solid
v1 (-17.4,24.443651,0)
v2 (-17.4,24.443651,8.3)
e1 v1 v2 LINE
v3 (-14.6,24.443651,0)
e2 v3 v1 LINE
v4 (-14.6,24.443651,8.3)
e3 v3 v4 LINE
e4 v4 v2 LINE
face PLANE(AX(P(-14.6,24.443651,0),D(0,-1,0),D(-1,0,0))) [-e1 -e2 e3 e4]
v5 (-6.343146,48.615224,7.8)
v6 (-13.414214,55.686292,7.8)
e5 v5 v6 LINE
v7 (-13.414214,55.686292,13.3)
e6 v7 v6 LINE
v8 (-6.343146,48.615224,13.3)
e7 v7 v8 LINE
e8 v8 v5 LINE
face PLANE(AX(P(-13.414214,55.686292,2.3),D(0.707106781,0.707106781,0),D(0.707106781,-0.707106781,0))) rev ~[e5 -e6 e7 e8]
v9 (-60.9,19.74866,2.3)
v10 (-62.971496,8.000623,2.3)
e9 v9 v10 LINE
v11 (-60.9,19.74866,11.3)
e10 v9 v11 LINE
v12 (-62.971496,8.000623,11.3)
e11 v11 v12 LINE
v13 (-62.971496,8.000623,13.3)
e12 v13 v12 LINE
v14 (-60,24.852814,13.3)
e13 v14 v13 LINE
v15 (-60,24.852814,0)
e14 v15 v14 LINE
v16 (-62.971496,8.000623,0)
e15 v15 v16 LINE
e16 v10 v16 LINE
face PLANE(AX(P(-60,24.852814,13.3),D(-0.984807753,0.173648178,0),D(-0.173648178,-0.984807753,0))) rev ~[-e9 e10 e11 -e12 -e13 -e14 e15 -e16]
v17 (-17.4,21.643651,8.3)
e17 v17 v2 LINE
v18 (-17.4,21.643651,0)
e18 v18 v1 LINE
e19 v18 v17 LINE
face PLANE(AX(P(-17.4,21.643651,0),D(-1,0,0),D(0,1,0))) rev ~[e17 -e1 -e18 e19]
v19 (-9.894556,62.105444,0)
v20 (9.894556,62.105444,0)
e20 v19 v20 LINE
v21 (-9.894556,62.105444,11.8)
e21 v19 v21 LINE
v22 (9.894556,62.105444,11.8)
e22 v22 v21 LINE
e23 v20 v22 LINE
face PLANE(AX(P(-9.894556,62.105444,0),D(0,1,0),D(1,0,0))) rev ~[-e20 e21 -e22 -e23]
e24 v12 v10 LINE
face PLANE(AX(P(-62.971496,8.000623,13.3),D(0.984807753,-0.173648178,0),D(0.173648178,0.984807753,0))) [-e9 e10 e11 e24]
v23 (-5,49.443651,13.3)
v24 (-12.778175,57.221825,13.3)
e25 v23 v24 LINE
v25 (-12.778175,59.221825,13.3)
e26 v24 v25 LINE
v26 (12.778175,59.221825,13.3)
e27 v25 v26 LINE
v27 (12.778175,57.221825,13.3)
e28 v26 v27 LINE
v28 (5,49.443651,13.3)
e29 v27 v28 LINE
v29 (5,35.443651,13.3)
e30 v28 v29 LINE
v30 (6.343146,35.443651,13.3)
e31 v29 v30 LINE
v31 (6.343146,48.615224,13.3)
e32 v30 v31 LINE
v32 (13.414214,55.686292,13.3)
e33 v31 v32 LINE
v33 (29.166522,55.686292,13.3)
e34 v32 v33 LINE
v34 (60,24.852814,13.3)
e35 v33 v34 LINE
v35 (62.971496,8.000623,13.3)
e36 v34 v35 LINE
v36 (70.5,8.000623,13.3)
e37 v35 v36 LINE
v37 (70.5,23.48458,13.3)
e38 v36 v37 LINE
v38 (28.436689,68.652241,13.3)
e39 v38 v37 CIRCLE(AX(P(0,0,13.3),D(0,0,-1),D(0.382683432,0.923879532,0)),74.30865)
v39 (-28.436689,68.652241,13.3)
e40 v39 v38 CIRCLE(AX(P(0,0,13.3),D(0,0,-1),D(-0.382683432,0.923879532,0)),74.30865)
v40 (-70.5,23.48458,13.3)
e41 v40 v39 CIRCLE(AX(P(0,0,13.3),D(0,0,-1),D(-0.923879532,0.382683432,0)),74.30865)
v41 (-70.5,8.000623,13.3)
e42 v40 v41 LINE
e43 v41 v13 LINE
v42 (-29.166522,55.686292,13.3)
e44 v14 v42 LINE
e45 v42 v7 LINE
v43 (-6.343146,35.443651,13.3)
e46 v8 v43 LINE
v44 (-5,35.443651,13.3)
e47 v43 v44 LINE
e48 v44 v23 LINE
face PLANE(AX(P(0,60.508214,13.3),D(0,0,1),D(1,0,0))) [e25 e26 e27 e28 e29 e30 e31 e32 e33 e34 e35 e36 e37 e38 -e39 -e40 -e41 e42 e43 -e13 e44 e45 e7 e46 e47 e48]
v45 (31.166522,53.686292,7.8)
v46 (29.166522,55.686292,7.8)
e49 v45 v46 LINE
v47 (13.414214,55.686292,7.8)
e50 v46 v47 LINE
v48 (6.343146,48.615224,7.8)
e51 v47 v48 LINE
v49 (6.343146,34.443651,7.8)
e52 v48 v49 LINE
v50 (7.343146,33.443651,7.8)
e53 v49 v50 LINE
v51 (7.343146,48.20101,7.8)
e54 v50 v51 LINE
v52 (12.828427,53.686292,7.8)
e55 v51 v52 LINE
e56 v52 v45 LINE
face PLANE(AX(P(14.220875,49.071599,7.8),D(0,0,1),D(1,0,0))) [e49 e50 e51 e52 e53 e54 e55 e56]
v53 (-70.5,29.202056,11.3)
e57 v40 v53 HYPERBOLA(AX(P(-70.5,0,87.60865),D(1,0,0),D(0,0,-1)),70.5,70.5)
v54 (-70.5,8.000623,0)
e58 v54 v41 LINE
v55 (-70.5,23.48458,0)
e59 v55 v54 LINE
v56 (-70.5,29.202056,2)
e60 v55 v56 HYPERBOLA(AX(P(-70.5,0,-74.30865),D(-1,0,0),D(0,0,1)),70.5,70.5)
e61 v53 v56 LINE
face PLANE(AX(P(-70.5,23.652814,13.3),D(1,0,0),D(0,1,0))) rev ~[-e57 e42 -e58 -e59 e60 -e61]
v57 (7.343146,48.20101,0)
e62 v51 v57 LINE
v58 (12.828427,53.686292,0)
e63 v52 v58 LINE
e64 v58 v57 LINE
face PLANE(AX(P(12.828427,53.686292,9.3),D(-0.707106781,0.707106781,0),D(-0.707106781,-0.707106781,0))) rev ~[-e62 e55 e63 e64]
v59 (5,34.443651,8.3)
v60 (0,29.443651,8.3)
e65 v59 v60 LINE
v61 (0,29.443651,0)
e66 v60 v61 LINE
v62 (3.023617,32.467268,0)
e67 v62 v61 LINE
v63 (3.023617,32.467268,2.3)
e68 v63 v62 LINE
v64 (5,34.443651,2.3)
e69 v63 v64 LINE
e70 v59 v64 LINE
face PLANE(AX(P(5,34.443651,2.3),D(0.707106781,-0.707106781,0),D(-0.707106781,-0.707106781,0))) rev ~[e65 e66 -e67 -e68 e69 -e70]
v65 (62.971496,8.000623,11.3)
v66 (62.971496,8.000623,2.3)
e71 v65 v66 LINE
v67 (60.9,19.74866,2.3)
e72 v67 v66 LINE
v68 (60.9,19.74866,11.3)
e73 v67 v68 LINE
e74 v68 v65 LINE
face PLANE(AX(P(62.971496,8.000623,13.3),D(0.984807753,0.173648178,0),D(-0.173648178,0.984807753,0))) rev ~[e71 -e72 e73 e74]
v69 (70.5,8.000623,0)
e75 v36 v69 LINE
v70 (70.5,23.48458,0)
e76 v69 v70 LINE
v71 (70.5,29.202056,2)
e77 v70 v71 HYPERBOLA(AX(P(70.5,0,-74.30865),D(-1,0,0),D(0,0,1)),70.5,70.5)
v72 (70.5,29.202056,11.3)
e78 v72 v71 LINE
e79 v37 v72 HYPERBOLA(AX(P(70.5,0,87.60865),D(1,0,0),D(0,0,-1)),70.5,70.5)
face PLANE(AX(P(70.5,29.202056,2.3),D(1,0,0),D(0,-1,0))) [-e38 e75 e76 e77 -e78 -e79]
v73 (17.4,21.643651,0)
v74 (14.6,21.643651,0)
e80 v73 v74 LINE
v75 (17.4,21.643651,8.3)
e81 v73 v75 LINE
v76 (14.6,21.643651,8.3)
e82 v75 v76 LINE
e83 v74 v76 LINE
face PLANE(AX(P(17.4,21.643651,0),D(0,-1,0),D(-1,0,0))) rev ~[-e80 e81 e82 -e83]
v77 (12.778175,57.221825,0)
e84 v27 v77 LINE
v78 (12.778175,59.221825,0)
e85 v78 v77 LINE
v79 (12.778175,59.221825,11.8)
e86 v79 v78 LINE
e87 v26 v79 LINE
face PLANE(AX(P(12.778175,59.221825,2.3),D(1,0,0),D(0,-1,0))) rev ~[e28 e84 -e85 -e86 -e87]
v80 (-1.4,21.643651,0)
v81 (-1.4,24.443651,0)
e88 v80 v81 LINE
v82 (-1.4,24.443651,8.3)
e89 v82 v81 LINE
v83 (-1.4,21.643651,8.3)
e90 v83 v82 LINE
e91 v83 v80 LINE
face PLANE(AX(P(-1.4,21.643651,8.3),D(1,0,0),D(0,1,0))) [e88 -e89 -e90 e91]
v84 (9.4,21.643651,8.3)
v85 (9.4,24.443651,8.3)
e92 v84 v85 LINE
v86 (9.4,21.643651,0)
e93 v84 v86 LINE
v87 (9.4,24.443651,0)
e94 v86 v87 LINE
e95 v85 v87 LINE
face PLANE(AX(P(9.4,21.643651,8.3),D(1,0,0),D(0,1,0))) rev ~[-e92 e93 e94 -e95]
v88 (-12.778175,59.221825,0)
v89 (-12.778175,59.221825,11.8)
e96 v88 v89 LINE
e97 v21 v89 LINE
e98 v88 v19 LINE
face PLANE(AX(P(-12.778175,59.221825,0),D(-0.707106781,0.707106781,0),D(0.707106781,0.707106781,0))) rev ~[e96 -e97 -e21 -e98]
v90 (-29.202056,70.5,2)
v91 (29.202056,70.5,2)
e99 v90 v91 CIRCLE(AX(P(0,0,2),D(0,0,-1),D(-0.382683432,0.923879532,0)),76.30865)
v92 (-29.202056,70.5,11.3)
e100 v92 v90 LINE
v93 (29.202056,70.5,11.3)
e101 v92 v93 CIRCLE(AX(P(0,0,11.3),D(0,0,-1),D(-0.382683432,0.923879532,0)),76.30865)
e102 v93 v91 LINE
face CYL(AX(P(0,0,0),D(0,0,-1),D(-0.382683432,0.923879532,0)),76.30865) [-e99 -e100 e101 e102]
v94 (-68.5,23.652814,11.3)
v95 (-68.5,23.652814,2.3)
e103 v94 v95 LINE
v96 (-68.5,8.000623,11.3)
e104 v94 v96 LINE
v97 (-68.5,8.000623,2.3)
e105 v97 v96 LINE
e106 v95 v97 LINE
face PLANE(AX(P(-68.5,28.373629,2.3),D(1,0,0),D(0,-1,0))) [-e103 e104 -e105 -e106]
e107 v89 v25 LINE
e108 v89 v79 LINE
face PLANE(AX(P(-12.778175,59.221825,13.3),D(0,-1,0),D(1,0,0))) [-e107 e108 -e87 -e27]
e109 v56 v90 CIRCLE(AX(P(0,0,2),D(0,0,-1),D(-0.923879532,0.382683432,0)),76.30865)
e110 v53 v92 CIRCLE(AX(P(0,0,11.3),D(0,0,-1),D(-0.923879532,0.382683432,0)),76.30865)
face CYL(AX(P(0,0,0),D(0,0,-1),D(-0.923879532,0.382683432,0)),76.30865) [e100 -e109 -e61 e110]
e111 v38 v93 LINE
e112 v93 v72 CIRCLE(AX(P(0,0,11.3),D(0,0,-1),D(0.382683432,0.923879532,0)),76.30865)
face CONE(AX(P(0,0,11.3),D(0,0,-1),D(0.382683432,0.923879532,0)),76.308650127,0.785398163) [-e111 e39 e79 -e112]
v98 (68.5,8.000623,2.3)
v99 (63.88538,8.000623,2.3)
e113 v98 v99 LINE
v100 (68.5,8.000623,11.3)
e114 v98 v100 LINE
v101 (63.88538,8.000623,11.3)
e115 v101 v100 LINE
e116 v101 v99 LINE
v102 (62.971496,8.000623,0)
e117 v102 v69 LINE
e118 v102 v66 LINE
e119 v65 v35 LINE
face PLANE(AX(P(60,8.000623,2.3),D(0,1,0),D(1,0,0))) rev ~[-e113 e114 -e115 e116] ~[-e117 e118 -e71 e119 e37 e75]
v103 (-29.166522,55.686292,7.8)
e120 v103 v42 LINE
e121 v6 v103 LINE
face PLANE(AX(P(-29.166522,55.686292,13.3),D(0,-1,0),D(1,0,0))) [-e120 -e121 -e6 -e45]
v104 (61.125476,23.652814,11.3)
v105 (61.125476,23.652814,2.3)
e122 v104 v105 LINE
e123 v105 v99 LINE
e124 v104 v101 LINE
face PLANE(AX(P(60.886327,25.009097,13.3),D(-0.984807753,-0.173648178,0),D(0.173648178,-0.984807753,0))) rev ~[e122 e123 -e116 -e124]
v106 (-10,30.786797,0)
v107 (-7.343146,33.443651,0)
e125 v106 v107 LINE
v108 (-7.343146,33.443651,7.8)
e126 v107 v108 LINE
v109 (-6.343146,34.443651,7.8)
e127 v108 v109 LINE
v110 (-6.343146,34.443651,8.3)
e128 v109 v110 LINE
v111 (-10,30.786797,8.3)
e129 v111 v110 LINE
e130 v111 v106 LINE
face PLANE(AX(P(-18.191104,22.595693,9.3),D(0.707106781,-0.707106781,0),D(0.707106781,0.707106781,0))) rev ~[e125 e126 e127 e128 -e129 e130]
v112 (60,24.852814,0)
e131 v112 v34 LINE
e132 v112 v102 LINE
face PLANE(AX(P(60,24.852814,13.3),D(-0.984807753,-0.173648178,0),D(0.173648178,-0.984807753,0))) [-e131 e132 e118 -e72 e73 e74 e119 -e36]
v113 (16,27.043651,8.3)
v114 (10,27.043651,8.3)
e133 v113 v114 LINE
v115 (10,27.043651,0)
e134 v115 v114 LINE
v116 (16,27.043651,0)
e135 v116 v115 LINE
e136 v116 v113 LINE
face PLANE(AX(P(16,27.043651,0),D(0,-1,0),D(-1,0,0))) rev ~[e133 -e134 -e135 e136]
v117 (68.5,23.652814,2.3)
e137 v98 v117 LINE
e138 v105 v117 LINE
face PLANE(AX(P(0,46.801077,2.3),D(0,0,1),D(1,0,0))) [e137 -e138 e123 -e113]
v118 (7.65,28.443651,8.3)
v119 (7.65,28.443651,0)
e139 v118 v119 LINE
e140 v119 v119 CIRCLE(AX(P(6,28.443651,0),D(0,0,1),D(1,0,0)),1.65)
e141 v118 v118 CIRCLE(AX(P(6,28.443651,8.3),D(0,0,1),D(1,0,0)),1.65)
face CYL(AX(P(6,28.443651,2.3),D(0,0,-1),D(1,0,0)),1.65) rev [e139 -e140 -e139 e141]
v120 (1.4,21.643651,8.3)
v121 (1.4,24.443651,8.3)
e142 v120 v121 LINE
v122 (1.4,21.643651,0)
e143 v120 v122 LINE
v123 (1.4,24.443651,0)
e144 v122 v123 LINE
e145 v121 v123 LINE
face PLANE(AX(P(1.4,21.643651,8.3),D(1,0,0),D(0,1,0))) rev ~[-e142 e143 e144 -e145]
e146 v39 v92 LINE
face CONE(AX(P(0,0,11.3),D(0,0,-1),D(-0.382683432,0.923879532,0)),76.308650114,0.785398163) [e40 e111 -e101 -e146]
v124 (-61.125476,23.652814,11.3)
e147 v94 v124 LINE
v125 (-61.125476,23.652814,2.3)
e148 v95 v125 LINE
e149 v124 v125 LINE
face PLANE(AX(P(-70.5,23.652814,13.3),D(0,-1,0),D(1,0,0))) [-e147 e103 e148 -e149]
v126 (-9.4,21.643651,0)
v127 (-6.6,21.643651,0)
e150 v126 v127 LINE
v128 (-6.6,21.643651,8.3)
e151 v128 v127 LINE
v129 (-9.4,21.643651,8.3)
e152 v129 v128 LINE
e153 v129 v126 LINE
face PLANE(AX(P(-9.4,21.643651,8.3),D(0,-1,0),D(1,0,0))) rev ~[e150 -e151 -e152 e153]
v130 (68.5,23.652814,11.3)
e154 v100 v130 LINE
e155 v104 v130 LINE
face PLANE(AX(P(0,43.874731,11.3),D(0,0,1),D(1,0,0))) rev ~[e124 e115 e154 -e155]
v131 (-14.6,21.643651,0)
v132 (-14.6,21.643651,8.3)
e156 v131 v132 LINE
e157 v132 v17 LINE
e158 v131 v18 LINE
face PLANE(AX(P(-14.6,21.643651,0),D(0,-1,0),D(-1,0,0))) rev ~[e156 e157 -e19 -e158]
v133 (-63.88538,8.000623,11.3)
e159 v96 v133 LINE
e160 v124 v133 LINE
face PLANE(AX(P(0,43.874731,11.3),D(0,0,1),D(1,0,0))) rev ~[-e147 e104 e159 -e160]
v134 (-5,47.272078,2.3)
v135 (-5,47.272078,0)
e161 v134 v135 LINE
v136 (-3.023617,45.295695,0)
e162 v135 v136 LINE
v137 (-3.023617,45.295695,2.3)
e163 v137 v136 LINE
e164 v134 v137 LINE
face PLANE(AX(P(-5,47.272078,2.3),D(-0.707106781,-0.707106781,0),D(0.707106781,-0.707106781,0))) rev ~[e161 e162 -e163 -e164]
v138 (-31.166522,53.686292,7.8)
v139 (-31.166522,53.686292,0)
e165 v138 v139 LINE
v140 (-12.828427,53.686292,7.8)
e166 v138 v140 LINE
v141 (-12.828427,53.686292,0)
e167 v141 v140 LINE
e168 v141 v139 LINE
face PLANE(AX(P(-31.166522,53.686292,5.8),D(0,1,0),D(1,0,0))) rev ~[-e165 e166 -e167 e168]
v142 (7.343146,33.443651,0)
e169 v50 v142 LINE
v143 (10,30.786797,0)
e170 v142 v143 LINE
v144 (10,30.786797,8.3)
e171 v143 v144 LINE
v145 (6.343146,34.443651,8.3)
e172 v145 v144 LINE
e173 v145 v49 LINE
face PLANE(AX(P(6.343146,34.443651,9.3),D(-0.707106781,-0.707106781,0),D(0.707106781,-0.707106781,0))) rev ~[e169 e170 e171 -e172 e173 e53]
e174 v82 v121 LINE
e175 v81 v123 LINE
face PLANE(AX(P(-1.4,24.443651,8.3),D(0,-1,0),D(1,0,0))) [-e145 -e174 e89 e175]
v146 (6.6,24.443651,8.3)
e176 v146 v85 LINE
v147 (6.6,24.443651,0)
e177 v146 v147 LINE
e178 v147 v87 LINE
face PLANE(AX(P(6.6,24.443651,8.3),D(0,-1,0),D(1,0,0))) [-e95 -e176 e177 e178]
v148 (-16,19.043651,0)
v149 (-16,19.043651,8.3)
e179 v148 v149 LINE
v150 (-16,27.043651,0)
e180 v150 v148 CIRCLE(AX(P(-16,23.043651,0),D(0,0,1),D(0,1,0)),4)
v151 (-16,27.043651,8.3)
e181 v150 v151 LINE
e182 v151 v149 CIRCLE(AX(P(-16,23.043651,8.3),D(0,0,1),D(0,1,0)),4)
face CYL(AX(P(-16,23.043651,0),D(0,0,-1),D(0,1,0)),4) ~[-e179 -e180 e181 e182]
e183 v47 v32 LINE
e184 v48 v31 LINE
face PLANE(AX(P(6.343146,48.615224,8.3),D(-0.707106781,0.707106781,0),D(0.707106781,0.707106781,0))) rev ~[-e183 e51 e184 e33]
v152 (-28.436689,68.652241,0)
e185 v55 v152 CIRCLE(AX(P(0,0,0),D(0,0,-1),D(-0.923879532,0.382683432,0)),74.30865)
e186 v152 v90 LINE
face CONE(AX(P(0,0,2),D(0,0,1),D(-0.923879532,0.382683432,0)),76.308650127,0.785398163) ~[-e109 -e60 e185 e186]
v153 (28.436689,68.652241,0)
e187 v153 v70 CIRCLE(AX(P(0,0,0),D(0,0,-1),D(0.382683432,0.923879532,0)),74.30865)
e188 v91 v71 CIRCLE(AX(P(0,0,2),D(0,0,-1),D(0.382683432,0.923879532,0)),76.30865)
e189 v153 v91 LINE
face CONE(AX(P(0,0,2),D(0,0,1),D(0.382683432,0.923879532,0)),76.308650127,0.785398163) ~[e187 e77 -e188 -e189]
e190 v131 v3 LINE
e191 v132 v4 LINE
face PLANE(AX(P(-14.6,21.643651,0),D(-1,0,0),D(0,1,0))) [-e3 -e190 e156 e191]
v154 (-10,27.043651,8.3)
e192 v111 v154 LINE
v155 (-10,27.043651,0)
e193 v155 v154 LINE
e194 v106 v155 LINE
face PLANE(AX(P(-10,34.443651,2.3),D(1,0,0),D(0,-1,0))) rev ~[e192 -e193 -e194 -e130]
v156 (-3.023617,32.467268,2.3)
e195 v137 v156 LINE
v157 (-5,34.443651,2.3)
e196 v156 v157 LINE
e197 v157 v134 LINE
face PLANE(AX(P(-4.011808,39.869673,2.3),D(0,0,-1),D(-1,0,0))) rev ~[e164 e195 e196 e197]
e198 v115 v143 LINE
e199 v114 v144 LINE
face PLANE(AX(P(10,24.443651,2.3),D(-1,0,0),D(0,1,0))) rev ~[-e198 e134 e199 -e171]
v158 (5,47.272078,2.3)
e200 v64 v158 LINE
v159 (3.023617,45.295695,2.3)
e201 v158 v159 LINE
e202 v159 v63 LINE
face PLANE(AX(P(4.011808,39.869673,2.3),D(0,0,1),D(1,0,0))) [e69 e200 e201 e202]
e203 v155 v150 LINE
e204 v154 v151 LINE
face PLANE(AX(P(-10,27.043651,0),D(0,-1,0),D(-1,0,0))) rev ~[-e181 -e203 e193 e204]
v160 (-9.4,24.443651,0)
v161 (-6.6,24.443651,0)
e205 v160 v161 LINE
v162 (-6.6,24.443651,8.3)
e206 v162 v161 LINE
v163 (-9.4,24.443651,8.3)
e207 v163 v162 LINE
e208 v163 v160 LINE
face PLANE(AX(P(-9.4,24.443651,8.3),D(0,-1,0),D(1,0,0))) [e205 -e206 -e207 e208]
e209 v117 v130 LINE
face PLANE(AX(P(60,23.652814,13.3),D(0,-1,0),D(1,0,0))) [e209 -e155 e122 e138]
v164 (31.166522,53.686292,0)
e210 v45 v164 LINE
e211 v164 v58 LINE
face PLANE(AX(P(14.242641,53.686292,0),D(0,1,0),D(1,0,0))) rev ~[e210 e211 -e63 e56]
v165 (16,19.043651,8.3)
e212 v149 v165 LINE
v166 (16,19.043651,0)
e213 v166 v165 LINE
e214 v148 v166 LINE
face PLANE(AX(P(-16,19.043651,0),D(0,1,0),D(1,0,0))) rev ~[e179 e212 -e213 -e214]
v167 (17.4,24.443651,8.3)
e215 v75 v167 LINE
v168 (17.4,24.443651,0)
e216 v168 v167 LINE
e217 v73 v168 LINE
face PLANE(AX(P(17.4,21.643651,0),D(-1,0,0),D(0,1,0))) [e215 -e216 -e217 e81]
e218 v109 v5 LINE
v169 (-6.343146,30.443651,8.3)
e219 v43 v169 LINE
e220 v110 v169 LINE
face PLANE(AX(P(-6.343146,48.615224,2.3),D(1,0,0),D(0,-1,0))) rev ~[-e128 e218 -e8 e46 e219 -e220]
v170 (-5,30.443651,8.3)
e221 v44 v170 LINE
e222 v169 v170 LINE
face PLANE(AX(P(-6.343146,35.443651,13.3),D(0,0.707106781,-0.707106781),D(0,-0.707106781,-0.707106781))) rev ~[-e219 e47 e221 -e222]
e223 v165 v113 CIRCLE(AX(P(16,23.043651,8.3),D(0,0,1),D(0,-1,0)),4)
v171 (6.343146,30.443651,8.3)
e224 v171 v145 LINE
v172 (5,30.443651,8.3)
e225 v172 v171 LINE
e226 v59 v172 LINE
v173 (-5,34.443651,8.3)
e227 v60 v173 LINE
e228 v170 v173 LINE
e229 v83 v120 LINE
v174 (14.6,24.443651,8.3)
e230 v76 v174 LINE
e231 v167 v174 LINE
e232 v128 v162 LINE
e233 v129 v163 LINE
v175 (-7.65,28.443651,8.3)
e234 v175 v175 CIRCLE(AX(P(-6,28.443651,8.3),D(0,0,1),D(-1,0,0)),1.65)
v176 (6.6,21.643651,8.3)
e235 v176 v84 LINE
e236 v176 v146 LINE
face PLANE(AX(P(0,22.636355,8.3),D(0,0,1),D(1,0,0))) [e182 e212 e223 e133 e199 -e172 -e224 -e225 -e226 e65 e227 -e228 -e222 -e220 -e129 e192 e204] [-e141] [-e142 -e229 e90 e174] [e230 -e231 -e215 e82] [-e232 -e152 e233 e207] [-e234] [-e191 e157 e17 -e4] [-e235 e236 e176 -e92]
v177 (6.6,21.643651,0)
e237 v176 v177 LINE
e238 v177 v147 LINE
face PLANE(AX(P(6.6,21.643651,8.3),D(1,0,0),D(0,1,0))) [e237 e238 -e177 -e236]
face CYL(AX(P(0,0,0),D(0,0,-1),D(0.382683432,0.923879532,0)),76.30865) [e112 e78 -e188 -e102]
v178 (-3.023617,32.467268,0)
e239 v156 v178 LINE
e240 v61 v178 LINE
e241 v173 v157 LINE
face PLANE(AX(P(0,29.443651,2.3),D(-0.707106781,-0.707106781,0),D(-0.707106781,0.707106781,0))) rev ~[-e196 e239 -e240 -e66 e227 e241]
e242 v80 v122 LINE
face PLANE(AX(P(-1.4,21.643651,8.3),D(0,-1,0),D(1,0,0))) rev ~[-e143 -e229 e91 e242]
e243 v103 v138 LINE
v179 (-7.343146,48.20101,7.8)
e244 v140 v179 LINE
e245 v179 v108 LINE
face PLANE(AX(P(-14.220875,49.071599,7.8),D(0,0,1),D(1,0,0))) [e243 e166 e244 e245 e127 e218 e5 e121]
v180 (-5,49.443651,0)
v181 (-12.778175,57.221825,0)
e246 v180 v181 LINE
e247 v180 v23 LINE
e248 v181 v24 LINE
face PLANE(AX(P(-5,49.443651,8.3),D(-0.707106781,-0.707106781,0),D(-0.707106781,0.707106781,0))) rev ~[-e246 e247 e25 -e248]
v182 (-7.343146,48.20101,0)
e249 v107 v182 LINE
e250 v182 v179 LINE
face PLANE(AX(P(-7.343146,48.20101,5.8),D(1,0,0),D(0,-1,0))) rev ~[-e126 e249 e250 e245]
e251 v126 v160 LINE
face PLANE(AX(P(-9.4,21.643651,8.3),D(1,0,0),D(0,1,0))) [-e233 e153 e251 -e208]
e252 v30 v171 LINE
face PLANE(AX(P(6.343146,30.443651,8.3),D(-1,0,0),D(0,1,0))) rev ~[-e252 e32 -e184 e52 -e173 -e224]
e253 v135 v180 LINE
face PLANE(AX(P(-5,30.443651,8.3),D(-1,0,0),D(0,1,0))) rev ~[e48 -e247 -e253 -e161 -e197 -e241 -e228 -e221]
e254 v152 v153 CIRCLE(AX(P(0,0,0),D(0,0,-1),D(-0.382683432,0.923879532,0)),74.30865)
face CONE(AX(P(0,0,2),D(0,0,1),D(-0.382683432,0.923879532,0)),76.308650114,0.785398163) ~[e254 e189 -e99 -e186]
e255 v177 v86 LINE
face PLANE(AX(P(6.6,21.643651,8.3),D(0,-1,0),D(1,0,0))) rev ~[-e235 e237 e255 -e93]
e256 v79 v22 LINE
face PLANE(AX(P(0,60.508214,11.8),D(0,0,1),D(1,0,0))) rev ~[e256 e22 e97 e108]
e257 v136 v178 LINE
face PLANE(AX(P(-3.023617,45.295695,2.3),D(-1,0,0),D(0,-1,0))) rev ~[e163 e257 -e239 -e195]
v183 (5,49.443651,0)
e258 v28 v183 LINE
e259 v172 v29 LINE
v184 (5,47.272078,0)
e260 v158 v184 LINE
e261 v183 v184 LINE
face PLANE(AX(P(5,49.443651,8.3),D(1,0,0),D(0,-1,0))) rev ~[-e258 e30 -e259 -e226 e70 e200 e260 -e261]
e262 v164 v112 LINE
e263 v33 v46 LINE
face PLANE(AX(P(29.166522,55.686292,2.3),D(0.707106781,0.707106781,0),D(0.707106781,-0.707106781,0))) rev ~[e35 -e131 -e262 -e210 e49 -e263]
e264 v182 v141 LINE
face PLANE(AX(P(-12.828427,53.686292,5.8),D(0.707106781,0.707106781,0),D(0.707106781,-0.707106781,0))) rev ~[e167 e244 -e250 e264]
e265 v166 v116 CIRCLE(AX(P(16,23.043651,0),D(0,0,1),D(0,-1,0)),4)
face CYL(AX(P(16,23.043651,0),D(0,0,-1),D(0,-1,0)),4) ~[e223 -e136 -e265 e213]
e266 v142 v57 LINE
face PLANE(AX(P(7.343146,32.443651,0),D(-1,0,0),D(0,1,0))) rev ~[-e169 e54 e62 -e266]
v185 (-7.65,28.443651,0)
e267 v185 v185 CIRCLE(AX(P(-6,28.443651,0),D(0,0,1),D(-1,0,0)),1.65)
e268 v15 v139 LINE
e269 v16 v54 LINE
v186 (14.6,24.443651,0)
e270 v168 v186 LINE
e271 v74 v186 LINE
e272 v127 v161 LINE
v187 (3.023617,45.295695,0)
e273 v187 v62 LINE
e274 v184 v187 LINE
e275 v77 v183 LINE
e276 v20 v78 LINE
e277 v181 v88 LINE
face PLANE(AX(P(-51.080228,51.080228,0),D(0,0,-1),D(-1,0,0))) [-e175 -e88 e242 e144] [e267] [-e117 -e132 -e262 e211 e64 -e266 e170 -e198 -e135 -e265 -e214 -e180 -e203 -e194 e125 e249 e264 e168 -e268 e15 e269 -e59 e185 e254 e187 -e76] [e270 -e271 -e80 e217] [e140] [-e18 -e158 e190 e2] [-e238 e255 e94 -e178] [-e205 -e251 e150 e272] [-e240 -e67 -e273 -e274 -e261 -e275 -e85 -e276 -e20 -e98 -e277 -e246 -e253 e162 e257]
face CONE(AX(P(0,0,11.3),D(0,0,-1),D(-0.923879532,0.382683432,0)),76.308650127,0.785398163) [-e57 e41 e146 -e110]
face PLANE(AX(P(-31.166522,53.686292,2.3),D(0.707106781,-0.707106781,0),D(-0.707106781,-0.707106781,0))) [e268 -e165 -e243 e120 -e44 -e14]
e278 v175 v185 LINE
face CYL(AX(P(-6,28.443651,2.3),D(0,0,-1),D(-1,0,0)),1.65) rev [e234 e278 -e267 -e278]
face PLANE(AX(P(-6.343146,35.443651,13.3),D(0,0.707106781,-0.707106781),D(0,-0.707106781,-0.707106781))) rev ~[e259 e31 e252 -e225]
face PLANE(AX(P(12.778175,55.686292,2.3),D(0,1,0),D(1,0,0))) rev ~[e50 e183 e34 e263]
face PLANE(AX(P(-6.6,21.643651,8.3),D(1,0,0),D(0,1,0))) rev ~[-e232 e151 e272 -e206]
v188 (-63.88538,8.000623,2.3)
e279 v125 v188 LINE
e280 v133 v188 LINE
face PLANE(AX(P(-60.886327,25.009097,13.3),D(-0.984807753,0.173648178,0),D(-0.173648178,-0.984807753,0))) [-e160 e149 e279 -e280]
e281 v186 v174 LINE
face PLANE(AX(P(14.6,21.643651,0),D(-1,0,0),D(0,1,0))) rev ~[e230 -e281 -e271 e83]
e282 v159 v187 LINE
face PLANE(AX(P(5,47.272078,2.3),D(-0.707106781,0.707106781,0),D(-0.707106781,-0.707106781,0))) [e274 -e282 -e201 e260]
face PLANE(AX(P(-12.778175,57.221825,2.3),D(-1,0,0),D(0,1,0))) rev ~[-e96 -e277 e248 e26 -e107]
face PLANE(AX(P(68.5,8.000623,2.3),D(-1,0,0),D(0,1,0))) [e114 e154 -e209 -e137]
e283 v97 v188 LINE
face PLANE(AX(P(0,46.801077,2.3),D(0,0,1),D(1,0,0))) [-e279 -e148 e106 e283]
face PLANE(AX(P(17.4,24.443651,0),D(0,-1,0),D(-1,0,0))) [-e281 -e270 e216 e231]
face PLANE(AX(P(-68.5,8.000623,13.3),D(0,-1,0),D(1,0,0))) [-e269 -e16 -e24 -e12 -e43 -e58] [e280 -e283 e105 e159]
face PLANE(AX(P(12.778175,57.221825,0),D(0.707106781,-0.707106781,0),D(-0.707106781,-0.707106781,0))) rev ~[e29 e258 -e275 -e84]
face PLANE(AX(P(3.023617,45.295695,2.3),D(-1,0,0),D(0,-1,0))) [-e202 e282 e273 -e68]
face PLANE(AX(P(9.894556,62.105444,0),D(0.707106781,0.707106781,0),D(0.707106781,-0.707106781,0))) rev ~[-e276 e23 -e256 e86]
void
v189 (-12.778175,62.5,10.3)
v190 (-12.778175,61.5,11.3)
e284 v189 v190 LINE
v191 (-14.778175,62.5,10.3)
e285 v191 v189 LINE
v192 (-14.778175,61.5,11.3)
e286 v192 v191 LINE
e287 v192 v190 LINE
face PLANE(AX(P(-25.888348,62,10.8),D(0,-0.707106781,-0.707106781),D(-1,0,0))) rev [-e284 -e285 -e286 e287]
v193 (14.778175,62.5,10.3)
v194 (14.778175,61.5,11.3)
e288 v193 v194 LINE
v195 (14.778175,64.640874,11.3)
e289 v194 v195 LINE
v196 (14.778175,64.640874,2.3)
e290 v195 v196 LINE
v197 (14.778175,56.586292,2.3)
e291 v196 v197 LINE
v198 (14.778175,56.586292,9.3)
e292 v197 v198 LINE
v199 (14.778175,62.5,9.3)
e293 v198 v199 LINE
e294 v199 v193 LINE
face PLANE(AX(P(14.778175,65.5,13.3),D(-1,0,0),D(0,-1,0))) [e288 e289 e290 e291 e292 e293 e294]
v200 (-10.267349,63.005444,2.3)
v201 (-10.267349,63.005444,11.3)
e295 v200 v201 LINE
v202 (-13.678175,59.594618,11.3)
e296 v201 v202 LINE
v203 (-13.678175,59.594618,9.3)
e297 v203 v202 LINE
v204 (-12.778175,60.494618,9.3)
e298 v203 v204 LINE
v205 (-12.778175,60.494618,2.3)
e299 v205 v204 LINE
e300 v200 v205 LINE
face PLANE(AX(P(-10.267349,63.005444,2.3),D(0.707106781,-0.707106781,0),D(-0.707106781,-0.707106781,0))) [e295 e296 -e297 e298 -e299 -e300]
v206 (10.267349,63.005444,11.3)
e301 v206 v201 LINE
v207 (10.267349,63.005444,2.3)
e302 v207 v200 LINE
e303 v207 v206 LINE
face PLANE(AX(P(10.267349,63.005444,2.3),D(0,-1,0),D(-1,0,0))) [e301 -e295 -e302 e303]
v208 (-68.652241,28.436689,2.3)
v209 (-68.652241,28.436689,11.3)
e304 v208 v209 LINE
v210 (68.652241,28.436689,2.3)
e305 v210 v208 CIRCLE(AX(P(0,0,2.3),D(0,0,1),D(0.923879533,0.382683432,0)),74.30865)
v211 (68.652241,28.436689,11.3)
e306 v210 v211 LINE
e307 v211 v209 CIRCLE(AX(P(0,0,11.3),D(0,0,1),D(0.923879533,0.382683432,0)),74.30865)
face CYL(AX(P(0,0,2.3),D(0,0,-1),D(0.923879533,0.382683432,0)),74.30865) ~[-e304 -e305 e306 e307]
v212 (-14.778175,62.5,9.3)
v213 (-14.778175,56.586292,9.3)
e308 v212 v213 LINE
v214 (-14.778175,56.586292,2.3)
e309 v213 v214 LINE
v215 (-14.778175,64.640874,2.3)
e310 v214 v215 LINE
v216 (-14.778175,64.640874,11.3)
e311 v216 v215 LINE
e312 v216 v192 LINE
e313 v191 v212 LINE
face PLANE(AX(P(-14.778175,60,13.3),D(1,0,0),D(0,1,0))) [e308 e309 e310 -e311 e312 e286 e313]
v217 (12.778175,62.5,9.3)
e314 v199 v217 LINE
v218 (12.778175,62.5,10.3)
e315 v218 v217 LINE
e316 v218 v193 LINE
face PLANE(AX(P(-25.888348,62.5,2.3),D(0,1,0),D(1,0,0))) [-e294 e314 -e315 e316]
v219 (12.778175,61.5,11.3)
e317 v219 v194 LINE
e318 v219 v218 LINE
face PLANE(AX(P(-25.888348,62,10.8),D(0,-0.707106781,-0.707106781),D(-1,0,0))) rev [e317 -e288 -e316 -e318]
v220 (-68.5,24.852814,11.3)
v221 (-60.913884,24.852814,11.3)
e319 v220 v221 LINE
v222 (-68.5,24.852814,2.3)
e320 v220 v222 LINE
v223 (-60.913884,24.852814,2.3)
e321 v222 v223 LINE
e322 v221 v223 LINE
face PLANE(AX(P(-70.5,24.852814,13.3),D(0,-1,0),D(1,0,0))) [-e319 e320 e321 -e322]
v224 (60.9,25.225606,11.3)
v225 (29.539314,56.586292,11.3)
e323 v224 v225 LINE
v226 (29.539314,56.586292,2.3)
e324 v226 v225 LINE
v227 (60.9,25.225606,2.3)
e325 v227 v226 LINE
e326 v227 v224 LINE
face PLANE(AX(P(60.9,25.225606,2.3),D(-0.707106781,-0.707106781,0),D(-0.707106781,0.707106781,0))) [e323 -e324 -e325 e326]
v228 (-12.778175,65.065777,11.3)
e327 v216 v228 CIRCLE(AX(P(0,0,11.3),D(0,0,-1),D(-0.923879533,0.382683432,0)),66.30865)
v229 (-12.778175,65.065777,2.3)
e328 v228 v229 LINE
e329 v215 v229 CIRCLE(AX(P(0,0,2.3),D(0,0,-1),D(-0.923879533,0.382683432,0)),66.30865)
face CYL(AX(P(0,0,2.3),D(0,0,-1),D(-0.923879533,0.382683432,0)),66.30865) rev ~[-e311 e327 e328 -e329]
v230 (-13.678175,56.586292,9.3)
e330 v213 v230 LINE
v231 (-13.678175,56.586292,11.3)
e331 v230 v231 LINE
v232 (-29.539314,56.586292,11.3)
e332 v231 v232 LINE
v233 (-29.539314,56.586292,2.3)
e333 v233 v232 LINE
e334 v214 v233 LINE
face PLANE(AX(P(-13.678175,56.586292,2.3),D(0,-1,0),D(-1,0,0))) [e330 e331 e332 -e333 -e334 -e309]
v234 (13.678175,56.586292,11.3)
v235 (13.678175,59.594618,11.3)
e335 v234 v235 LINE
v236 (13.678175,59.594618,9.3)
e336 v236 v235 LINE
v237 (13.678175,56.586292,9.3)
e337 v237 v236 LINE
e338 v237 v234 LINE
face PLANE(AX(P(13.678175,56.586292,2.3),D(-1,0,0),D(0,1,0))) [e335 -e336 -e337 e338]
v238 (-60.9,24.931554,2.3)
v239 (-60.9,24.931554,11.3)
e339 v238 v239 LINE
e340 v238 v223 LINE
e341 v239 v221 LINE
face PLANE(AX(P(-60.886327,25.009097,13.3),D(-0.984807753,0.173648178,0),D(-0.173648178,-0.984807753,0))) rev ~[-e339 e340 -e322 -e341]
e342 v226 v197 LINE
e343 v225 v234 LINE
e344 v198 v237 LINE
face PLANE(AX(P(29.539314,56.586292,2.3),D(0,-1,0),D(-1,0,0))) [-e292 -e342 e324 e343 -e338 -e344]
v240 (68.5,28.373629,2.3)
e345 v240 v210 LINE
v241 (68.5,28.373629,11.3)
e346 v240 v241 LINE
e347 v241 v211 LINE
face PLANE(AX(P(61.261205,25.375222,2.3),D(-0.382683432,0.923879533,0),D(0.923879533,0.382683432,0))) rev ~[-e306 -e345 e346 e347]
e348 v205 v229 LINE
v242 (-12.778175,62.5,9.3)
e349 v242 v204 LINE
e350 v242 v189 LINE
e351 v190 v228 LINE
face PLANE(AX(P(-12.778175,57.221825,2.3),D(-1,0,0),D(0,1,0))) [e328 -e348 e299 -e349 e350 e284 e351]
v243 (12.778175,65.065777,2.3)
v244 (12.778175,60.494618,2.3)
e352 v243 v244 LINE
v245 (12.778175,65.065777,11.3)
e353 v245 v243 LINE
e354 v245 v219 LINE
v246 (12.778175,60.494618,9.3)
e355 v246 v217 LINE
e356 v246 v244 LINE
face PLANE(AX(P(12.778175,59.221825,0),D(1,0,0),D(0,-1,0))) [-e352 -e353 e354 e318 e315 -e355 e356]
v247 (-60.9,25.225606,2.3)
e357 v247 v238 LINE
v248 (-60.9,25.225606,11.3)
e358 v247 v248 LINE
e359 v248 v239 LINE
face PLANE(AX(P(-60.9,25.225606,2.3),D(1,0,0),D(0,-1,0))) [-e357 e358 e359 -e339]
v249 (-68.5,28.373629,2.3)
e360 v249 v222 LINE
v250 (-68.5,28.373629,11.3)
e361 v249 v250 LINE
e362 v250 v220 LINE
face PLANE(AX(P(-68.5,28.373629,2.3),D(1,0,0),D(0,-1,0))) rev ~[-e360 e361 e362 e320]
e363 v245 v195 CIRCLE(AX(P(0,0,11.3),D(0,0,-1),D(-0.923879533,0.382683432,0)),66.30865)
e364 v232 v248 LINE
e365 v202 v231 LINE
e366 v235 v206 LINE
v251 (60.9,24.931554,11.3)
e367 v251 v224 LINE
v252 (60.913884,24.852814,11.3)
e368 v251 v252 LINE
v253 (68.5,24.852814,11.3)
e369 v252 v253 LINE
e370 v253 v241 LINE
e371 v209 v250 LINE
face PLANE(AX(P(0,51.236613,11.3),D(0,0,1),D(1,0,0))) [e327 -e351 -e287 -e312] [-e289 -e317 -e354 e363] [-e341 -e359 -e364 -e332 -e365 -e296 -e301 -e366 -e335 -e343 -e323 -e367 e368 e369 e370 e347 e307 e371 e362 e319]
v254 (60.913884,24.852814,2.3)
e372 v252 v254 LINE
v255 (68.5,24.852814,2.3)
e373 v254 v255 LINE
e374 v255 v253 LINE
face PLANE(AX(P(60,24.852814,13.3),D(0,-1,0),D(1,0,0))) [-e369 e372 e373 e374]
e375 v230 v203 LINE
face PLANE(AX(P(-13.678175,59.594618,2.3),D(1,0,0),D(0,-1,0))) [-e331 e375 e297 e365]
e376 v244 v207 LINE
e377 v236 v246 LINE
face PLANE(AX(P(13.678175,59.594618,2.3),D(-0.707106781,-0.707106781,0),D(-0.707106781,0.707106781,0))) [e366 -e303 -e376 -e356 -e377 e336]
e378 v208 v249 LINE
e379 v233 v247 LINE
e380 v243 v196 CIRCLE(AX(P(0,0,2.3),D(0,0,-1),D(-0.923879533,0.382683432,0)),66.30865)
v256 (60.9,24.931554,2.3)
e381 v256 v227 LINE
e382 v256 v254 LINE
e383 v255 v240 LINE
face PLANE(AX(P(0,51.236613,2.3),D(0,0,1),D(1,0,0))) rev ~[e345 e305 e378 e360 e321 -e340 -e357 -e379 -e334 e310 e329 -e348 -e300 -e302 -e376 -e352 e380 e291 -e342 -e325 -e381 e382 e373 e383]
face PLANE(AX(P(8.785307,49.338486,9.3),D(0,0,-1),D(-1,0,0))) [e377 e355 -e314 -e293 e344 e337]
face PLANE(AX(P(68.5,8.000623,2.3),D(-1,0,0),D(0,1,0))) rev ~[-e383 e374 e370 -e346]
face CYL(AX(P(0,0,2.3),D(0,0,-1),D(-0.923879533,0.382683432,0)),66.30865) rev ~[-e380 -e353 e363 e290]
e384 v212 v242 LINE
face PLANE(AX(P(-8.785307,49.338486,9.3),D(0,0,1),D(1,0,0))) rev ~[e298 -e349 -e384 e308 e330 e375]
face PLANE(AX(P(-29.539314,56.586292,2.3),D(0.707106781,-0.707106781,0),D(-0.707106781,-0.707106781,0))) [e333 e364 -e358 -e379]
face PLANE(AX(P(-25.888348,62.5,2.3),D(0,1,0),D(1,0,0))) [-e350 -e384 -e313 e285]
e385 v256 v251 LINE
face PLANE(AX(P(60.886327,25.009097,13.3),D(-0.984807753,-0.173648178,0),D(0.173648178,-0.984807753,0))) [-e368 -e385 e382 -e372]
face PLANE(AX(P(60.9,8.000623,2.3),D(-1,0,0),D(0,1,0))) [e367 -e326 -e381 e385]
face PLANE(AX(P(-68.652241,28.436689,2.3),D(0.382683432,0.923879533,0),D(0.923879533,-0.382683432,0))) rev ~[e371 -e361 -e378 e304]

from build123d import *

# Parameters (mm, degrees)
ESBO_O4_R                 = 1.65
RESSALTO_EXTRUS_O1_DEPTH  = 2.3
RESSALTO_EXTRUS_O2_DEPTH  = 3.5
RESSALTO_EXTRUS_O3_DEPTH  = 11
CORTE_EXTRUS_O1_DEPTH     = 10.5
CORTE_EXTRUS_O2_DEPTH     = 40.5
RESSALTO_EXTRUS_O4_DEPTH  = 2
CHANFRO1_SIZE             = 1
ESBO_O11_R                = 1.65
RESSALTO_EXTRUS_O5_DEPTH  = 6
RESSALTO_EXTRUS_O6_DEPTH  = 7
CORTE_EXTRUS_O3_DEPTH     = 94.096670187
RESSALTO_EXTRUS_O7_DEPTH  = 2.3
ESBO_O16_W                = 2.8
ESBO_O16_H                = 2.8
RESSALTO_EXTRUS_O8_DEPTH  = 8.3
ESBO_O17_W                = 2.8
ESBO_O17_H                = 2.8
CORTE_EXTRUS_O4_DEPTH     = 94.002096751
CORTE_EXTRUS_O5_DEPTH     = 11
RESSALTO_EXTRUS_O9_DEPTH  = 2.3
RESSALTO_EXTRUS_O10_DEPTH = 11
RESSALTO_EXTRUS_O11_DEPTH = 2
RESSALTO_EXTRUS_O12_DEPTH = 9
RESSALTO_EXTRUS_O13_DEPTH = 5
CORTE_EXTRUS_O6_REACH     = 107.129
ESBO_O26_W                = 10.5
ESBO_O26_H                = 1.2
RESSALTO_EXTRUS_O14_DEPTH = 11
CORTE_EXTRUS_O7_DEPTH     = 101.585237485
RESSALTO_EXTRUS_O15_DEPTH = 11
RESSALTO_EXTRUS_O16_DEPTH = 13.3
CORTE_EXTRUS_O8_START     = -11
CORTE_EXTRUS_O8_DEPTH     = 11
RESSALTO_EXTRUS_O17_START = -2
RESSALTO_EXTRUS_O17_DEPTH = 2
CHANFRO2_SIZE             = 2
CHANFRO3_SIZE             = 2
RESSALTO_EXTRUS_O18_DEPTH = 2.3
RESSALTO_EXTRUS_O19_DEPTH = 3.5
RESSALTO_EXTRUS_O20_DEPTH = 2
RESSALTO_EXTRUS_O23_DEPTH = 1.5


with BuildPart() as part:
    # Esboço4 → Ressalto-extrusão1 (new body)
    with BuildSketch(Plane.XY):
        Polygon((70, 0), (70, 28.994949366), (28.994949366, 70), (-28.994949366, 70), (-70, 28.994949366), (-70, 0), (-60, 0), (-60, 24.852813742), (-42.426406871, 42.426406871), (-31.166522241, 53.686291501), (-14.242640687, 53.686291501), (-10, 49.443650814), (-10, 24.443650814), (10, 24.443650814), (10, 49.443650814), (14.242640687, 53.686291501), (31.166522241, 53.686291501), (42.426406871, 42.426406871), (60, 24.852813742), (60, 0), align=None)
        with Locations((6, 28.443650814)):
            Circle(ESBO_O4_R, mode=Mode.SUBTRACT)
        with Locations(Location((-6, 28.443650814, 0), (0, 0, 180))):
            Circle(ESBO_O4_R, mode=Mode.SUBTRACT)
        Polygon((-9.894556364, 62.105443636), (9.894556364, 62.105443636), (12.778174593, 59.221825407), (12.778174593, 57.221825407), (5, 49.443650814), (5, 34.443650814), (0, 29.443650814), (-5, 34.443650814), (-5, 49.443650814), (-12.778174593, 57.221825407), (-12.778174593, 59.221825407), align=None, mode=Mode.SUBTRACT)
    extrude(amount=RESSALTO_EXTRUS_O1_DEPTH)

    # Esboço6 → Ressalto-extrusão2 (add)
    with BuildSketch(Plane.XY.offset(2.3)):
        Polygon((-10, 49.443650814), (-14.242640687, 53.686291501), (-31.166522241, 53.686291501), (-35.409162928, 49.443650814), (-36.823376491, 50.857864376), (-31.994949366, 55.686291501), (-31.166522241, 55.686291501), (-13.414213562, 55.686291501), (-8.585786438, 50.857864376), align=None)
        Polygon((8.585786438, 50.857864376), (13.414213562, 55.686291501), (31.166522241, 55.686291501), (31.994949366, 55.686291501), (36.823376491, 50.857864376), (35.409162928, 49.443650814), (31.166522241, 53.686291501), (14.242640687, 53.686291501), (10, 49.443650814), align=None)
    extrude(amount=RESSALTO_EXTRUS_O2_DEPTH)

    # Esboço7 → Ressalto-extrusão3 (add)
    with BuildSketch(Plane.XY.offset(2.3)):
        Polygon((27.130988335, 65.5), (-27.130988335, 65.5), (-65.5, 27.130988335), (-65.5, 0), (-62.5, 0), (-62.5, 25.888347648), (-25.888347648, 62.5), (25.888347648, 62.5), (62.5, 25.888347648), (62.5, 0), (65.5, 0), (65.5, 27.130988335), align=None)
    extrude(amount=RESSALTO_EXTRUS_O3_DEPTH)

    # Esboço8 → Corte-extrusão1 (cut)
    with BuildSketch(Plane.XY.offset(2.3)):
        Polygon((-65.5, 0), (-65.5, 27.130988335), (-27.130988335, 65.5), (27.130988335, 65.5), (65.5, 27.130988335), (65.5, 0), (65.5, -7.47317723), (91.763905533, -7.47317723), (91.763905533, 81.084833901), (-91.763905533, 81.084833901), (-91.763905533, -7.47317723), (-65.5, -7.47317723), align=None)
    extrude(amount=-CORTE_EXTRUS_O1_DEPTH, mode=Mode.SUBTRACT)

    # Esboço9 → Corte-extrusão2 (cut)
    with BuildSketch(Plane(origin=(0, 0, 0), x_dir=(-1, 0, 0), z_dir=(0, 0, -1))):
        Polygon((60, 0), (70, 0), (70, 8.000623443), (-93.298268705, 8.000623443), (-93.298268705, 0), align=None)
    extrude(amount=-CORTE_EXTRUS_O2_DEPTH, mode=Mode.SUBTRACT)

    # Esboço10 → Ressalto-extrusão4 (add)
    with BuildSketch(Plane.XY.offset(13.3)):
        Polygon((-62.5, 8.000623443), (-62.5, 25.888347648), (-25.888347648, 62.5), (25.888347648, 62.5), (62.5, 25.888347648), (62.5, 8.000623443), (60, 8.000623443), (60, 24.852813742), (24.852813742, 60), (-24.852813742, 60), (-60, 24.852813742), (-60, 8.000623443), align=None)
    extrude(amount=-RESSALTO_EXTRUS_O4_DEPTH)

    # Chanfro1
    chanfro1_edges = [part.edges().sort_by_distance(p)[0] for p in [
        (-62.5, 16.944485546, 11.3),
        (-44.194173824, 44.194173824, 11.3),
        (0, 62.5, 11.3),
        (44.194173824, 44.194173824, 11.3),
        (62.5, 16.944485546, 11.3),
    ]]
    chamfer(chanfro1_edges, length=CHANFRO1_SIZE)

    # Esboço11 → Ressalto-extrusão5 (add)
    with BuildSketch(Plane.XY.offset(2.3)):
        Polygon((-10, 24.443650814), (10, 24.443650814), (10, 34.443650814), (5, 34.443650814), (0, 29.443650814), (-5, 34.443650814), (-10, 34.443650814), align=None)
        with Locations(Location((-6, 28.443650814, 0), (0, 0, 180))):
            Circle(ESBO_O11_R, mode=Mode.SUBTRACT)
        with Locations((6, 28.443650814)):
            Circle(ESBO_O11_R, mode=Mode.SUBTRACT)
    extrude(amount=RESSALTO_EXTRUS_O5_DEPTH)

    # Esboço12 → Ressalto-extrusão6 (add)
    with BuildSketch(Plane.XY.offset(2.3)):
        Polygon((-5, 34.443650814), (-5, 49.443650814), (-12.778174593, 57.221825407), (-12.778174593, 62.936367936), (-14.778174593, 62.936367936), (-14.778174593, 55.686291501), (-13.414213562, 55.686291501), (-6.343145751, 48.615223689), (-6.343145751, 34.443650814), align=None)
        Polygon((6.343145751, 34.443650814), (5, 34.443650814), (5, 49.443650814), (12.778174593, 57.221825407), (12.778174593, 62.936367936), (14.778174593, 62.936367936), (14.778174593, 55.686291501), (13.414213562, 55.686291501), (6.343145751, 48.615223689), align=None)
    extrude(amount=RESSALTO_EXTRUS_O6_DEPTH)

    # Esboço14 → Corte-extrusão3 (cut, through all)
    with BuildSketch(Plane.XY.offset(9.3)):
        Polygon((14.242640687, 53.686291501), (12.828427125, 53.686291501), (6.343145751, 47.201010127), (6.343145751, 34.443650814), (18.19110406, 22.595692505), align=None)
        Polygon((-14.242640687, 53.686291501), (-18.19110406, 22.595692505), (-6.343145751, 34.443650814), (-6.343145751, 47.201010127), (-12.828427125, 53.686291501), align=None)
    extrude(amount=-CORTE_EXTRUS_O3_DEPTH, mode=Mode.SUBTRACT)

    # Esboço15 → Ressalto-extrusão7 (add)
    with BuildSketch(Plane.XY.offset(2.3)):
        Polygon((-5, 47.272077939), (-3.023616976, 45.295694915), (-3.023616976, 32.46726779), (-5, 34.443650814), align=None)
        Polygon((5, 34.443650814), (5, 47.272077939), (3.023616976, 45.295694915), (3.023616976, 32.46726779), align=None)
    extrude(amount=-RESSALTO_EXTRUS_O7_DEPTH)

    # Esboço16 → Ressalto-extrusão8 (add)
    with BuildSketch(Plane(origin=(0, 0, 0), x_dir=(-1, 0, 0), z_dir=(0, 0, -1))):
        with BuildLine():
            Line((-16, 27.043650814), (-10, 27.043650814))
            Line((-10, 27.043650814), (-10, 24.443650814))
            Line((-10, 24.443650814), (10, 24.443650814))
            Line((10, 24.443650814), (10, 27.043650814))
            Line((10, 27.043650814), (16, 27.043650814))
            ThreePointArc((16, 27.043650814), (20, 23.043650814), (16, 19.043650814))
            Line((16, 19.043650814), (-16, 19.043650814))
            ThreePointArc((-16, 19.043650814), (-20, 23.043650814), (-16, 27.043650814))
        make_face()
        with Locations((-16, 23.043650814)):
            Rectangle(ESBO_O16_W, ESBO_O16_H, mode=Mode.SUBTRACT)
        with Locations((16, 23.043650814)):
            Rectangle(ESBO_O16_W, ESBO_O16_H, mode=Mode.SUBTRACT)
    extrude(amount=-RESSALTO_EXTRUS_O8_DEPTH)

    # Esboço17 → Corte-extrusão4 (cut, through all)
    with BuildSketch(Plane.XY.offset(8.3)):
        with Locations((0, 23.043650814)):
            Rectangle(ESBO_O17_W, ESBO_O17_H)
        with Locations((-8, 23.043650814)):
            Rectangle(ESBO_O17_W, ESBO_O17_H)
        with Locations((8, 23.043650814)):
            Rectangle(ESBO_O17_W, ESBO_O17_H)
    extrude(amount=-CORTE_EXTRUS_O4_DEPTH, mode=Mode.SUBTRACT)

    # Esboço18 → Corte-extrusão5 (cut)
    with BuildSketch(Plane.XY.offset(13.3)):
        Polygon((14.778174593, 60), (24.852813742, 60), (60, 24.852813742), (60, 8.000623443), (65.5, 8.000623443), (65.5, 27.130988335), (27.130988335, 65.5), (14.778174593, 65.5), (14.778174593, 62.5), align=None)
        Polygon((-27.130988335, 65.5), (-65.5, 27.130988335), (-65.5, 8.000623443), (-60, 8.000623443), (-60, 24.852813742), (-24.852813742, 60), (-14.778174593, 60), (-14.778174593, 62.5), (-14.778174593, 65.5), align=None)
        Polygon((12.778174593, 65.5), (-12.778174593, 65.5), (-12.778174593, 62.5), (-12.778174593, 60), (12.778174593, 60), (12.778174593, 62.5), align=None)
    extrude(amount=-CORTE_EXTRUS_O5_DEPTH, mode=Mode.SUBTRACT)

    # Esboço19 → Ressalto-extrusão9 (add)
    with BuildSketch(Plane(origin=(0, 0, 0), x_dir=(-1, 0, 0), z_dir=(0, 0, -1))):
        Polygon((-65.5, 27.130988335), (-65.5, 8.000623443), (-70.5, 8.000623443), (-70.5, 29.202056147), (-29.202056147, 70.5), (29.202056147, 70.5), (70.5, 29.202056147), (70.5, 8.000623443), (65.5, 8.000623443), (65.5, 27.130988335), (27.130988335, 65.5), (-27.130988335, 65.5), align=None)
    extrude(amount=-RESSALTO_EXTRUS_O9_DEPTH)

    # Esboço20 → Ressalto-extrusão10 (add)
    with BuildSketch(Plane.XY.offset(2.3)):
        Polygon((-70.5, 8.000623443), (-70.5, 29.202056147), (-29.202056147, 70.5), (29.202056147, 70.5), (70.5, 29.202056147), (70.5, 8.000623443), (68.5, 8.000623443), (68.5, 28.373629023), (28.373629023, 68.5), (-28.373629023, 68.5), (-68.5, 28.373629023), (-68.5, 8.000623443), align=None)
    extrude(amount=RESSALTO_EXTRUS_O10_DEPTH)

    # Esboço21 → Ressalto-extrusão11 (add)
    with BuildSketch(Plane.XY.offset(13.3)):
        Polygon((-14.778174593, 55.686291501), (-12.778174593, 55.686291501), (-12.778174593, 59.221825407), (-9.894556364, 62.105443636), (9.894556364, 62.105443636), (12.778174593, 59.221825407), (12.778174593, 55.686291501), (14.778174593, 55.686291501), (29.166522241, 55.686291501), (31.166522241, 53.686291501), (60, 24.852813742), (60, 8.000623443), (68.5, 8.000623443), (68.5, 28.373629023), (28.373629023, 68.5), (-28.373629023, 68.5), (-68.5, 28.373629023), (-68.5, 8.000623443), (-60, 8.000623443), (-60, 24.852813742), (-31.166522241, 53.686291501), (-29.166522241, 55.686291501), align=None)
    extrude(amount=-RESSALTO_EXTRUS_O11_DEPTH)

    # Esboço22 → Ressalto-extrusão12 (add)
    with BuildSketch(Plane.XY.offset(2.3)):
        Polygon((60, 24.852813742), (60, 8.000623443), (60.9, 8.000623443), (60.9, 25.225605949), (29.539314447, 56.586291501), (13.678174593, 56.586291501), (13.678174593, 59.594617613), (10.26734857, 63.005443636), (-10.26734857, 63.005443636), (-13.678174593, 59.594617613), (-13.678174593, 56.586291501), (-29.539314447, 56.586291501), (-60.9, 25.225605949), (-60.9, 8.000623443), (-60, 8.000623443), (-60, 24.852813742), (-29.166522241, 55.686291501), (-12.778174593, 55.686291501), (-12.778174593, 59.221825407), (-9.894556364, 62.105443636), (9.894556364, 62.105443636), (12.778174593, 59.221825407), (12.778174593, 55.686291501), (29.166522241, 55.686291501), align=None)
    extrude(amount=RESSALTO_EXTRUS_O12_DEPTH)

    # Esboço24 → Ressalto-extrusão13 (add)
    with BuildSketch(Plane.XY.offset(8.3)):
        Polygon((-12.778174593, 57.221825407), (-12.778174593, 55.686291501), (-13.414213562, 55.686291501), (-6.343145751, 48.615223689), (-6.343145751, 34.443650814), (-6.343145751, 30.443650814), (-5, 30.443650814), (-5, 34.443650814), (-5, 49.443650814), align=None)
        Polygon((12.778174593, 55.686291501), (12.778174593, 57.221825407), (5, 49.443650814), (5, 34.443650814), (5, 30.443650814), (6.343145751, 30.443650814), (6.343145751, 34.443650814), (6.343145751, 48.615223689), (13.414213562, 55.686291501), align=None)
    extrude(amount=RESSALTO_EXTRUS_O13_DEPTH)

    # Corte-extrusão6: up to this face of the body (flat: up to its plane)
    corte_extrus_o6_end = Plane(part.part.faces().sort_by_distance((6.343145751, 40.542913033, 7.141595678))[0])
    # Esboço25 → Corte-extrusão6 (cut, up to the picked face)
    with BuildSketch(Plane.ZY.offset(6.343145751), mode=Mode.PRIVATE) as corte_extrus_o6_sk1:
        Polygon((8.3, 30.443650814), (13.3, 30.443650814), (13.3, 35.443650814), align=None)
    corte_extrus_o6_tool1 = split(extrude(corte_extrus_o6_sk1.sketch, amount=-CORTE_EXTRUS_O6_REACH, mode=Mode.PRIVATE), bisect_by=corte_extrus_o6_end, keep=Keep.BOTH, mode=Mode.PRIVATE)
    add(corte_extrus_o6_tool1.solids().sort_by(Axis((-6.343146, 32.110317, 11.633333), (1, 0, 0)))[0], mode=Mode.SUBTRACT)

    # Esboço26 → Ressalto-extrusão14 (add)
    with BuildSketch(Plane.XY.offset(13.3)):
        with Locations((-65.25, 24.252813742)):
            Rectangle(ESBO_O26_W, ESBO_O26_H)
        with Locations((65.25, 24.252813742)):
            Rectangle(ESBO_O26_W, ESBO_O26_H)
    extrude(amount=-RESSALTO_EXTRUS_O14_DEPTH)

    # Esboço27 → Corte-extrusão7 (cut, through all)
    with BuildSketch(Plane.XY.offset(13.3)):
        Polygon((-60, 24.852813742), (-65.050320566, -3.788977466), (-60, -3.788977466), align=None)
        Polygon((60, -3.788977466), (60, 24.852813742), (65.050320566, -3.788977466), align=None)
    extrude(amount=-CORTE_EXTRUS_O7_DEPTH, mode=Mode.SUBTRACT)

    # Esboço28 → Ressalto-extrusão15 (add)
    with BuildSketch(Plane.XY.offset(13.3)):
        Polygon((-60, 24.852813742), (-60.886326978, 25.009097102), (-63.885379784, 8.000623443), (-62.971495834, 8.000623443), align=None)
        Polygon((62.971495834, 8.000623443), (60, 24.852813742), (60.886326978, 25.009097102), (63.885379784, 8.000623443), align=None)
    extrude(amount=-RESSALTO_EXTRUS_O15_DEPTH)

    # Esboço29 → Ressalto-extrusão16 (add)
    with BuildSketch(Plane(origin=(0, 0, 0), x_dir=(-1, 0, 0), z_dir=(0, 0, -1))):
        with BuildLine():
            ThreePointArc((70.5, 29.202056147), (53.958363963, 53.958363963), (29.202056147, 70.5))
            Line((29.202056147, 70.5), (70.5, 29.202056147))
        make_face()
        with BuildLine():
            ThreePointArc((29.202056147, 70.5), (0, 76.308650121), (-29.202056147, 70.5))
            Line((-29.202056147, 70.5), (29.202056147, 70.5))
        make_face()
        with BuildLine():
            Line((-70.5, 29.202056147), (-29.202056147, 70.5))
            ThreePointArc((-29.202056147, 70.5), (-53.958363963, 53.958363963), (-70.5, 29.202056147))
        make_face()
    extrude(amount=-RESSALTO_EXTRUS_O16_DEPTH)

    # Esboço31 → Corte-extrusão8 (cut)
    with BuildSketch(Plane.XY.offset(13.3).offset(CORTE_EXTRUS_O8_START)):
        with BuildLine():
            Line((-68.652240935, 28.436689283), (-61.261204675, 25.375221824))
            ThreePointArc((-61.261204675, 25.375221824), (0, 66.308650121), (61.261204675, 25.375221824))
            Line((61.261204675, 25.375221824), (68.652240935, 28.436689283))
            ThreePointArc((68.652240935, 28.436689283), (0, 74.308650121), (-68.652240935, 28.436689283))
        make_face()
    extrude(amount=CORTE_EXTRUS_O8_DEPTH, mode=Mode.SUBTRACT)

    # Esboço32 → Ressalto-extrusão17 (add)
    with BuildSketch(Plane.XY.offset(13.3).offset(RESSALTO_EXTRUS_O17_START)):
        with BuildLine():
            Line((-68.652240935, 28.436689283), (-61.261204675, 25.375221824))
            ThreePointArc((-61.261204675, 25.375221824), (0, 66.308650121), (61.261204675, 25.375221824))
            Line((61.261204675, 25.375221824), (68.652240935, 28.436689283))
            ThreePointArc((68.652240935, 28.436689283), (0, 74.308650121), (-68.652240935, 28.436689283))
        make_face()
    extrude(amount=RESSALTO_EXTRUS_O17_DEPTH)

    # Chanfro2
    chanfro2_edges = [part.edges().sort_by_distance(p)[0] for p in [
        (0, 76.308650121, 13.3),
    ]]
    chamfer(chanfro2_edges, length=CHANFRO2_SIZE)

    # Chanfro3
    chanfro3_edges = [part.edges().sort_by_distance(p)[0] for p in [
        (0, 76.308650121, 0),
    ]]
    chamfer(chanfro3_edges, length=CHANFRO3_SIZE)

    # Esboço33 → Ressalto-extrusão18 (add)
    with BuildSketch(Plane(origin=(0, 0, 0), x_dir=(-1, 0, 0), z_dir=(0, 0, -1))):
        Polygon((6.343145751, 34.443650814), (6.343145751, 32.443650814), (7.343145751, 32.443650814), (7.343145751, 49.95835255), (6.343145751, 49.95835255), align=None)
        Polygon((-6.343145751, 49.95835255), (-6.343145751, 34.443650814), (-6.343145751, 32.443650814), (-7.343145751, 32.443650814), (-7.343145751, 49.95835255), align=None)
    extrude(amount=-RESSALTO_EXTRUS_O18_DEPTH)

    # Esboço34 → Ressalto-extrusão19 (add)
    with BuildSketch(Plane.XY.offset(2.3)):
        Polygon((-9.292893219, 50.150757595), (-7.343145751, 48.201010127), (-7.343145751, 33.443650814), (-6.343145751, 34.443650814), (-6.343145751, 48.615223689), (-8.585786438, 50.857864376), align=None)
        Polygon((9.292893219, 50.150757595), (8.585786438, 50.857864376), (6.343145751, 48.615223689), (6.343145751, 34.443650814), (7.343145751, 33.443650814), (7.343145751, 48.201010127), align=None)
    extrude(amount=RESSALTO_EXTRUS_O19_DEPTH)

    # Esboço35 → Ressalto-extrusão20 (add)
    with BuildSketch(Plane.XY.offset(5.8)):
        Polygon((-29.166522241, 55.686291501), (-31.166522241, 53.686291501), (-12.828427125, 53.686291501), (-7.343145751, 48.201010127), (-7.343145751, 33.443650814), (-6.343145751, 34.443650814), (-6.343145751, 48.615223689), (-13.414213562, 55.686291501), align=None)
        Polygon((12.828427125, 53.686291501), (31.166522241, 53.686291501), (29.166522241, 55.686291501), (13.414213562, 55.686291501), (6.343145751, 48.615223689), (6.343145751, 34.443650814), (7.343145751, 33.443650814), (7.343145751, 48.201010127), align=None)
    extrude(amount=RESSALTO_EXTRUS_O20_DEPTH)

    # Esboço39 → Ressalto-extrusão23 (add)
    with BuildSketch(Plane.XY.offset(13.3)):
        Polygon((-12.778174593, 59.221825407), (12.778174593, 59.221825407), (9.894556364, 62.105443636), (-9.894556364, 62.105443636), align=None)
    extrude(amount=-RESSALTO_EXTRUS_O23_DEPTH)


solid = part.part
